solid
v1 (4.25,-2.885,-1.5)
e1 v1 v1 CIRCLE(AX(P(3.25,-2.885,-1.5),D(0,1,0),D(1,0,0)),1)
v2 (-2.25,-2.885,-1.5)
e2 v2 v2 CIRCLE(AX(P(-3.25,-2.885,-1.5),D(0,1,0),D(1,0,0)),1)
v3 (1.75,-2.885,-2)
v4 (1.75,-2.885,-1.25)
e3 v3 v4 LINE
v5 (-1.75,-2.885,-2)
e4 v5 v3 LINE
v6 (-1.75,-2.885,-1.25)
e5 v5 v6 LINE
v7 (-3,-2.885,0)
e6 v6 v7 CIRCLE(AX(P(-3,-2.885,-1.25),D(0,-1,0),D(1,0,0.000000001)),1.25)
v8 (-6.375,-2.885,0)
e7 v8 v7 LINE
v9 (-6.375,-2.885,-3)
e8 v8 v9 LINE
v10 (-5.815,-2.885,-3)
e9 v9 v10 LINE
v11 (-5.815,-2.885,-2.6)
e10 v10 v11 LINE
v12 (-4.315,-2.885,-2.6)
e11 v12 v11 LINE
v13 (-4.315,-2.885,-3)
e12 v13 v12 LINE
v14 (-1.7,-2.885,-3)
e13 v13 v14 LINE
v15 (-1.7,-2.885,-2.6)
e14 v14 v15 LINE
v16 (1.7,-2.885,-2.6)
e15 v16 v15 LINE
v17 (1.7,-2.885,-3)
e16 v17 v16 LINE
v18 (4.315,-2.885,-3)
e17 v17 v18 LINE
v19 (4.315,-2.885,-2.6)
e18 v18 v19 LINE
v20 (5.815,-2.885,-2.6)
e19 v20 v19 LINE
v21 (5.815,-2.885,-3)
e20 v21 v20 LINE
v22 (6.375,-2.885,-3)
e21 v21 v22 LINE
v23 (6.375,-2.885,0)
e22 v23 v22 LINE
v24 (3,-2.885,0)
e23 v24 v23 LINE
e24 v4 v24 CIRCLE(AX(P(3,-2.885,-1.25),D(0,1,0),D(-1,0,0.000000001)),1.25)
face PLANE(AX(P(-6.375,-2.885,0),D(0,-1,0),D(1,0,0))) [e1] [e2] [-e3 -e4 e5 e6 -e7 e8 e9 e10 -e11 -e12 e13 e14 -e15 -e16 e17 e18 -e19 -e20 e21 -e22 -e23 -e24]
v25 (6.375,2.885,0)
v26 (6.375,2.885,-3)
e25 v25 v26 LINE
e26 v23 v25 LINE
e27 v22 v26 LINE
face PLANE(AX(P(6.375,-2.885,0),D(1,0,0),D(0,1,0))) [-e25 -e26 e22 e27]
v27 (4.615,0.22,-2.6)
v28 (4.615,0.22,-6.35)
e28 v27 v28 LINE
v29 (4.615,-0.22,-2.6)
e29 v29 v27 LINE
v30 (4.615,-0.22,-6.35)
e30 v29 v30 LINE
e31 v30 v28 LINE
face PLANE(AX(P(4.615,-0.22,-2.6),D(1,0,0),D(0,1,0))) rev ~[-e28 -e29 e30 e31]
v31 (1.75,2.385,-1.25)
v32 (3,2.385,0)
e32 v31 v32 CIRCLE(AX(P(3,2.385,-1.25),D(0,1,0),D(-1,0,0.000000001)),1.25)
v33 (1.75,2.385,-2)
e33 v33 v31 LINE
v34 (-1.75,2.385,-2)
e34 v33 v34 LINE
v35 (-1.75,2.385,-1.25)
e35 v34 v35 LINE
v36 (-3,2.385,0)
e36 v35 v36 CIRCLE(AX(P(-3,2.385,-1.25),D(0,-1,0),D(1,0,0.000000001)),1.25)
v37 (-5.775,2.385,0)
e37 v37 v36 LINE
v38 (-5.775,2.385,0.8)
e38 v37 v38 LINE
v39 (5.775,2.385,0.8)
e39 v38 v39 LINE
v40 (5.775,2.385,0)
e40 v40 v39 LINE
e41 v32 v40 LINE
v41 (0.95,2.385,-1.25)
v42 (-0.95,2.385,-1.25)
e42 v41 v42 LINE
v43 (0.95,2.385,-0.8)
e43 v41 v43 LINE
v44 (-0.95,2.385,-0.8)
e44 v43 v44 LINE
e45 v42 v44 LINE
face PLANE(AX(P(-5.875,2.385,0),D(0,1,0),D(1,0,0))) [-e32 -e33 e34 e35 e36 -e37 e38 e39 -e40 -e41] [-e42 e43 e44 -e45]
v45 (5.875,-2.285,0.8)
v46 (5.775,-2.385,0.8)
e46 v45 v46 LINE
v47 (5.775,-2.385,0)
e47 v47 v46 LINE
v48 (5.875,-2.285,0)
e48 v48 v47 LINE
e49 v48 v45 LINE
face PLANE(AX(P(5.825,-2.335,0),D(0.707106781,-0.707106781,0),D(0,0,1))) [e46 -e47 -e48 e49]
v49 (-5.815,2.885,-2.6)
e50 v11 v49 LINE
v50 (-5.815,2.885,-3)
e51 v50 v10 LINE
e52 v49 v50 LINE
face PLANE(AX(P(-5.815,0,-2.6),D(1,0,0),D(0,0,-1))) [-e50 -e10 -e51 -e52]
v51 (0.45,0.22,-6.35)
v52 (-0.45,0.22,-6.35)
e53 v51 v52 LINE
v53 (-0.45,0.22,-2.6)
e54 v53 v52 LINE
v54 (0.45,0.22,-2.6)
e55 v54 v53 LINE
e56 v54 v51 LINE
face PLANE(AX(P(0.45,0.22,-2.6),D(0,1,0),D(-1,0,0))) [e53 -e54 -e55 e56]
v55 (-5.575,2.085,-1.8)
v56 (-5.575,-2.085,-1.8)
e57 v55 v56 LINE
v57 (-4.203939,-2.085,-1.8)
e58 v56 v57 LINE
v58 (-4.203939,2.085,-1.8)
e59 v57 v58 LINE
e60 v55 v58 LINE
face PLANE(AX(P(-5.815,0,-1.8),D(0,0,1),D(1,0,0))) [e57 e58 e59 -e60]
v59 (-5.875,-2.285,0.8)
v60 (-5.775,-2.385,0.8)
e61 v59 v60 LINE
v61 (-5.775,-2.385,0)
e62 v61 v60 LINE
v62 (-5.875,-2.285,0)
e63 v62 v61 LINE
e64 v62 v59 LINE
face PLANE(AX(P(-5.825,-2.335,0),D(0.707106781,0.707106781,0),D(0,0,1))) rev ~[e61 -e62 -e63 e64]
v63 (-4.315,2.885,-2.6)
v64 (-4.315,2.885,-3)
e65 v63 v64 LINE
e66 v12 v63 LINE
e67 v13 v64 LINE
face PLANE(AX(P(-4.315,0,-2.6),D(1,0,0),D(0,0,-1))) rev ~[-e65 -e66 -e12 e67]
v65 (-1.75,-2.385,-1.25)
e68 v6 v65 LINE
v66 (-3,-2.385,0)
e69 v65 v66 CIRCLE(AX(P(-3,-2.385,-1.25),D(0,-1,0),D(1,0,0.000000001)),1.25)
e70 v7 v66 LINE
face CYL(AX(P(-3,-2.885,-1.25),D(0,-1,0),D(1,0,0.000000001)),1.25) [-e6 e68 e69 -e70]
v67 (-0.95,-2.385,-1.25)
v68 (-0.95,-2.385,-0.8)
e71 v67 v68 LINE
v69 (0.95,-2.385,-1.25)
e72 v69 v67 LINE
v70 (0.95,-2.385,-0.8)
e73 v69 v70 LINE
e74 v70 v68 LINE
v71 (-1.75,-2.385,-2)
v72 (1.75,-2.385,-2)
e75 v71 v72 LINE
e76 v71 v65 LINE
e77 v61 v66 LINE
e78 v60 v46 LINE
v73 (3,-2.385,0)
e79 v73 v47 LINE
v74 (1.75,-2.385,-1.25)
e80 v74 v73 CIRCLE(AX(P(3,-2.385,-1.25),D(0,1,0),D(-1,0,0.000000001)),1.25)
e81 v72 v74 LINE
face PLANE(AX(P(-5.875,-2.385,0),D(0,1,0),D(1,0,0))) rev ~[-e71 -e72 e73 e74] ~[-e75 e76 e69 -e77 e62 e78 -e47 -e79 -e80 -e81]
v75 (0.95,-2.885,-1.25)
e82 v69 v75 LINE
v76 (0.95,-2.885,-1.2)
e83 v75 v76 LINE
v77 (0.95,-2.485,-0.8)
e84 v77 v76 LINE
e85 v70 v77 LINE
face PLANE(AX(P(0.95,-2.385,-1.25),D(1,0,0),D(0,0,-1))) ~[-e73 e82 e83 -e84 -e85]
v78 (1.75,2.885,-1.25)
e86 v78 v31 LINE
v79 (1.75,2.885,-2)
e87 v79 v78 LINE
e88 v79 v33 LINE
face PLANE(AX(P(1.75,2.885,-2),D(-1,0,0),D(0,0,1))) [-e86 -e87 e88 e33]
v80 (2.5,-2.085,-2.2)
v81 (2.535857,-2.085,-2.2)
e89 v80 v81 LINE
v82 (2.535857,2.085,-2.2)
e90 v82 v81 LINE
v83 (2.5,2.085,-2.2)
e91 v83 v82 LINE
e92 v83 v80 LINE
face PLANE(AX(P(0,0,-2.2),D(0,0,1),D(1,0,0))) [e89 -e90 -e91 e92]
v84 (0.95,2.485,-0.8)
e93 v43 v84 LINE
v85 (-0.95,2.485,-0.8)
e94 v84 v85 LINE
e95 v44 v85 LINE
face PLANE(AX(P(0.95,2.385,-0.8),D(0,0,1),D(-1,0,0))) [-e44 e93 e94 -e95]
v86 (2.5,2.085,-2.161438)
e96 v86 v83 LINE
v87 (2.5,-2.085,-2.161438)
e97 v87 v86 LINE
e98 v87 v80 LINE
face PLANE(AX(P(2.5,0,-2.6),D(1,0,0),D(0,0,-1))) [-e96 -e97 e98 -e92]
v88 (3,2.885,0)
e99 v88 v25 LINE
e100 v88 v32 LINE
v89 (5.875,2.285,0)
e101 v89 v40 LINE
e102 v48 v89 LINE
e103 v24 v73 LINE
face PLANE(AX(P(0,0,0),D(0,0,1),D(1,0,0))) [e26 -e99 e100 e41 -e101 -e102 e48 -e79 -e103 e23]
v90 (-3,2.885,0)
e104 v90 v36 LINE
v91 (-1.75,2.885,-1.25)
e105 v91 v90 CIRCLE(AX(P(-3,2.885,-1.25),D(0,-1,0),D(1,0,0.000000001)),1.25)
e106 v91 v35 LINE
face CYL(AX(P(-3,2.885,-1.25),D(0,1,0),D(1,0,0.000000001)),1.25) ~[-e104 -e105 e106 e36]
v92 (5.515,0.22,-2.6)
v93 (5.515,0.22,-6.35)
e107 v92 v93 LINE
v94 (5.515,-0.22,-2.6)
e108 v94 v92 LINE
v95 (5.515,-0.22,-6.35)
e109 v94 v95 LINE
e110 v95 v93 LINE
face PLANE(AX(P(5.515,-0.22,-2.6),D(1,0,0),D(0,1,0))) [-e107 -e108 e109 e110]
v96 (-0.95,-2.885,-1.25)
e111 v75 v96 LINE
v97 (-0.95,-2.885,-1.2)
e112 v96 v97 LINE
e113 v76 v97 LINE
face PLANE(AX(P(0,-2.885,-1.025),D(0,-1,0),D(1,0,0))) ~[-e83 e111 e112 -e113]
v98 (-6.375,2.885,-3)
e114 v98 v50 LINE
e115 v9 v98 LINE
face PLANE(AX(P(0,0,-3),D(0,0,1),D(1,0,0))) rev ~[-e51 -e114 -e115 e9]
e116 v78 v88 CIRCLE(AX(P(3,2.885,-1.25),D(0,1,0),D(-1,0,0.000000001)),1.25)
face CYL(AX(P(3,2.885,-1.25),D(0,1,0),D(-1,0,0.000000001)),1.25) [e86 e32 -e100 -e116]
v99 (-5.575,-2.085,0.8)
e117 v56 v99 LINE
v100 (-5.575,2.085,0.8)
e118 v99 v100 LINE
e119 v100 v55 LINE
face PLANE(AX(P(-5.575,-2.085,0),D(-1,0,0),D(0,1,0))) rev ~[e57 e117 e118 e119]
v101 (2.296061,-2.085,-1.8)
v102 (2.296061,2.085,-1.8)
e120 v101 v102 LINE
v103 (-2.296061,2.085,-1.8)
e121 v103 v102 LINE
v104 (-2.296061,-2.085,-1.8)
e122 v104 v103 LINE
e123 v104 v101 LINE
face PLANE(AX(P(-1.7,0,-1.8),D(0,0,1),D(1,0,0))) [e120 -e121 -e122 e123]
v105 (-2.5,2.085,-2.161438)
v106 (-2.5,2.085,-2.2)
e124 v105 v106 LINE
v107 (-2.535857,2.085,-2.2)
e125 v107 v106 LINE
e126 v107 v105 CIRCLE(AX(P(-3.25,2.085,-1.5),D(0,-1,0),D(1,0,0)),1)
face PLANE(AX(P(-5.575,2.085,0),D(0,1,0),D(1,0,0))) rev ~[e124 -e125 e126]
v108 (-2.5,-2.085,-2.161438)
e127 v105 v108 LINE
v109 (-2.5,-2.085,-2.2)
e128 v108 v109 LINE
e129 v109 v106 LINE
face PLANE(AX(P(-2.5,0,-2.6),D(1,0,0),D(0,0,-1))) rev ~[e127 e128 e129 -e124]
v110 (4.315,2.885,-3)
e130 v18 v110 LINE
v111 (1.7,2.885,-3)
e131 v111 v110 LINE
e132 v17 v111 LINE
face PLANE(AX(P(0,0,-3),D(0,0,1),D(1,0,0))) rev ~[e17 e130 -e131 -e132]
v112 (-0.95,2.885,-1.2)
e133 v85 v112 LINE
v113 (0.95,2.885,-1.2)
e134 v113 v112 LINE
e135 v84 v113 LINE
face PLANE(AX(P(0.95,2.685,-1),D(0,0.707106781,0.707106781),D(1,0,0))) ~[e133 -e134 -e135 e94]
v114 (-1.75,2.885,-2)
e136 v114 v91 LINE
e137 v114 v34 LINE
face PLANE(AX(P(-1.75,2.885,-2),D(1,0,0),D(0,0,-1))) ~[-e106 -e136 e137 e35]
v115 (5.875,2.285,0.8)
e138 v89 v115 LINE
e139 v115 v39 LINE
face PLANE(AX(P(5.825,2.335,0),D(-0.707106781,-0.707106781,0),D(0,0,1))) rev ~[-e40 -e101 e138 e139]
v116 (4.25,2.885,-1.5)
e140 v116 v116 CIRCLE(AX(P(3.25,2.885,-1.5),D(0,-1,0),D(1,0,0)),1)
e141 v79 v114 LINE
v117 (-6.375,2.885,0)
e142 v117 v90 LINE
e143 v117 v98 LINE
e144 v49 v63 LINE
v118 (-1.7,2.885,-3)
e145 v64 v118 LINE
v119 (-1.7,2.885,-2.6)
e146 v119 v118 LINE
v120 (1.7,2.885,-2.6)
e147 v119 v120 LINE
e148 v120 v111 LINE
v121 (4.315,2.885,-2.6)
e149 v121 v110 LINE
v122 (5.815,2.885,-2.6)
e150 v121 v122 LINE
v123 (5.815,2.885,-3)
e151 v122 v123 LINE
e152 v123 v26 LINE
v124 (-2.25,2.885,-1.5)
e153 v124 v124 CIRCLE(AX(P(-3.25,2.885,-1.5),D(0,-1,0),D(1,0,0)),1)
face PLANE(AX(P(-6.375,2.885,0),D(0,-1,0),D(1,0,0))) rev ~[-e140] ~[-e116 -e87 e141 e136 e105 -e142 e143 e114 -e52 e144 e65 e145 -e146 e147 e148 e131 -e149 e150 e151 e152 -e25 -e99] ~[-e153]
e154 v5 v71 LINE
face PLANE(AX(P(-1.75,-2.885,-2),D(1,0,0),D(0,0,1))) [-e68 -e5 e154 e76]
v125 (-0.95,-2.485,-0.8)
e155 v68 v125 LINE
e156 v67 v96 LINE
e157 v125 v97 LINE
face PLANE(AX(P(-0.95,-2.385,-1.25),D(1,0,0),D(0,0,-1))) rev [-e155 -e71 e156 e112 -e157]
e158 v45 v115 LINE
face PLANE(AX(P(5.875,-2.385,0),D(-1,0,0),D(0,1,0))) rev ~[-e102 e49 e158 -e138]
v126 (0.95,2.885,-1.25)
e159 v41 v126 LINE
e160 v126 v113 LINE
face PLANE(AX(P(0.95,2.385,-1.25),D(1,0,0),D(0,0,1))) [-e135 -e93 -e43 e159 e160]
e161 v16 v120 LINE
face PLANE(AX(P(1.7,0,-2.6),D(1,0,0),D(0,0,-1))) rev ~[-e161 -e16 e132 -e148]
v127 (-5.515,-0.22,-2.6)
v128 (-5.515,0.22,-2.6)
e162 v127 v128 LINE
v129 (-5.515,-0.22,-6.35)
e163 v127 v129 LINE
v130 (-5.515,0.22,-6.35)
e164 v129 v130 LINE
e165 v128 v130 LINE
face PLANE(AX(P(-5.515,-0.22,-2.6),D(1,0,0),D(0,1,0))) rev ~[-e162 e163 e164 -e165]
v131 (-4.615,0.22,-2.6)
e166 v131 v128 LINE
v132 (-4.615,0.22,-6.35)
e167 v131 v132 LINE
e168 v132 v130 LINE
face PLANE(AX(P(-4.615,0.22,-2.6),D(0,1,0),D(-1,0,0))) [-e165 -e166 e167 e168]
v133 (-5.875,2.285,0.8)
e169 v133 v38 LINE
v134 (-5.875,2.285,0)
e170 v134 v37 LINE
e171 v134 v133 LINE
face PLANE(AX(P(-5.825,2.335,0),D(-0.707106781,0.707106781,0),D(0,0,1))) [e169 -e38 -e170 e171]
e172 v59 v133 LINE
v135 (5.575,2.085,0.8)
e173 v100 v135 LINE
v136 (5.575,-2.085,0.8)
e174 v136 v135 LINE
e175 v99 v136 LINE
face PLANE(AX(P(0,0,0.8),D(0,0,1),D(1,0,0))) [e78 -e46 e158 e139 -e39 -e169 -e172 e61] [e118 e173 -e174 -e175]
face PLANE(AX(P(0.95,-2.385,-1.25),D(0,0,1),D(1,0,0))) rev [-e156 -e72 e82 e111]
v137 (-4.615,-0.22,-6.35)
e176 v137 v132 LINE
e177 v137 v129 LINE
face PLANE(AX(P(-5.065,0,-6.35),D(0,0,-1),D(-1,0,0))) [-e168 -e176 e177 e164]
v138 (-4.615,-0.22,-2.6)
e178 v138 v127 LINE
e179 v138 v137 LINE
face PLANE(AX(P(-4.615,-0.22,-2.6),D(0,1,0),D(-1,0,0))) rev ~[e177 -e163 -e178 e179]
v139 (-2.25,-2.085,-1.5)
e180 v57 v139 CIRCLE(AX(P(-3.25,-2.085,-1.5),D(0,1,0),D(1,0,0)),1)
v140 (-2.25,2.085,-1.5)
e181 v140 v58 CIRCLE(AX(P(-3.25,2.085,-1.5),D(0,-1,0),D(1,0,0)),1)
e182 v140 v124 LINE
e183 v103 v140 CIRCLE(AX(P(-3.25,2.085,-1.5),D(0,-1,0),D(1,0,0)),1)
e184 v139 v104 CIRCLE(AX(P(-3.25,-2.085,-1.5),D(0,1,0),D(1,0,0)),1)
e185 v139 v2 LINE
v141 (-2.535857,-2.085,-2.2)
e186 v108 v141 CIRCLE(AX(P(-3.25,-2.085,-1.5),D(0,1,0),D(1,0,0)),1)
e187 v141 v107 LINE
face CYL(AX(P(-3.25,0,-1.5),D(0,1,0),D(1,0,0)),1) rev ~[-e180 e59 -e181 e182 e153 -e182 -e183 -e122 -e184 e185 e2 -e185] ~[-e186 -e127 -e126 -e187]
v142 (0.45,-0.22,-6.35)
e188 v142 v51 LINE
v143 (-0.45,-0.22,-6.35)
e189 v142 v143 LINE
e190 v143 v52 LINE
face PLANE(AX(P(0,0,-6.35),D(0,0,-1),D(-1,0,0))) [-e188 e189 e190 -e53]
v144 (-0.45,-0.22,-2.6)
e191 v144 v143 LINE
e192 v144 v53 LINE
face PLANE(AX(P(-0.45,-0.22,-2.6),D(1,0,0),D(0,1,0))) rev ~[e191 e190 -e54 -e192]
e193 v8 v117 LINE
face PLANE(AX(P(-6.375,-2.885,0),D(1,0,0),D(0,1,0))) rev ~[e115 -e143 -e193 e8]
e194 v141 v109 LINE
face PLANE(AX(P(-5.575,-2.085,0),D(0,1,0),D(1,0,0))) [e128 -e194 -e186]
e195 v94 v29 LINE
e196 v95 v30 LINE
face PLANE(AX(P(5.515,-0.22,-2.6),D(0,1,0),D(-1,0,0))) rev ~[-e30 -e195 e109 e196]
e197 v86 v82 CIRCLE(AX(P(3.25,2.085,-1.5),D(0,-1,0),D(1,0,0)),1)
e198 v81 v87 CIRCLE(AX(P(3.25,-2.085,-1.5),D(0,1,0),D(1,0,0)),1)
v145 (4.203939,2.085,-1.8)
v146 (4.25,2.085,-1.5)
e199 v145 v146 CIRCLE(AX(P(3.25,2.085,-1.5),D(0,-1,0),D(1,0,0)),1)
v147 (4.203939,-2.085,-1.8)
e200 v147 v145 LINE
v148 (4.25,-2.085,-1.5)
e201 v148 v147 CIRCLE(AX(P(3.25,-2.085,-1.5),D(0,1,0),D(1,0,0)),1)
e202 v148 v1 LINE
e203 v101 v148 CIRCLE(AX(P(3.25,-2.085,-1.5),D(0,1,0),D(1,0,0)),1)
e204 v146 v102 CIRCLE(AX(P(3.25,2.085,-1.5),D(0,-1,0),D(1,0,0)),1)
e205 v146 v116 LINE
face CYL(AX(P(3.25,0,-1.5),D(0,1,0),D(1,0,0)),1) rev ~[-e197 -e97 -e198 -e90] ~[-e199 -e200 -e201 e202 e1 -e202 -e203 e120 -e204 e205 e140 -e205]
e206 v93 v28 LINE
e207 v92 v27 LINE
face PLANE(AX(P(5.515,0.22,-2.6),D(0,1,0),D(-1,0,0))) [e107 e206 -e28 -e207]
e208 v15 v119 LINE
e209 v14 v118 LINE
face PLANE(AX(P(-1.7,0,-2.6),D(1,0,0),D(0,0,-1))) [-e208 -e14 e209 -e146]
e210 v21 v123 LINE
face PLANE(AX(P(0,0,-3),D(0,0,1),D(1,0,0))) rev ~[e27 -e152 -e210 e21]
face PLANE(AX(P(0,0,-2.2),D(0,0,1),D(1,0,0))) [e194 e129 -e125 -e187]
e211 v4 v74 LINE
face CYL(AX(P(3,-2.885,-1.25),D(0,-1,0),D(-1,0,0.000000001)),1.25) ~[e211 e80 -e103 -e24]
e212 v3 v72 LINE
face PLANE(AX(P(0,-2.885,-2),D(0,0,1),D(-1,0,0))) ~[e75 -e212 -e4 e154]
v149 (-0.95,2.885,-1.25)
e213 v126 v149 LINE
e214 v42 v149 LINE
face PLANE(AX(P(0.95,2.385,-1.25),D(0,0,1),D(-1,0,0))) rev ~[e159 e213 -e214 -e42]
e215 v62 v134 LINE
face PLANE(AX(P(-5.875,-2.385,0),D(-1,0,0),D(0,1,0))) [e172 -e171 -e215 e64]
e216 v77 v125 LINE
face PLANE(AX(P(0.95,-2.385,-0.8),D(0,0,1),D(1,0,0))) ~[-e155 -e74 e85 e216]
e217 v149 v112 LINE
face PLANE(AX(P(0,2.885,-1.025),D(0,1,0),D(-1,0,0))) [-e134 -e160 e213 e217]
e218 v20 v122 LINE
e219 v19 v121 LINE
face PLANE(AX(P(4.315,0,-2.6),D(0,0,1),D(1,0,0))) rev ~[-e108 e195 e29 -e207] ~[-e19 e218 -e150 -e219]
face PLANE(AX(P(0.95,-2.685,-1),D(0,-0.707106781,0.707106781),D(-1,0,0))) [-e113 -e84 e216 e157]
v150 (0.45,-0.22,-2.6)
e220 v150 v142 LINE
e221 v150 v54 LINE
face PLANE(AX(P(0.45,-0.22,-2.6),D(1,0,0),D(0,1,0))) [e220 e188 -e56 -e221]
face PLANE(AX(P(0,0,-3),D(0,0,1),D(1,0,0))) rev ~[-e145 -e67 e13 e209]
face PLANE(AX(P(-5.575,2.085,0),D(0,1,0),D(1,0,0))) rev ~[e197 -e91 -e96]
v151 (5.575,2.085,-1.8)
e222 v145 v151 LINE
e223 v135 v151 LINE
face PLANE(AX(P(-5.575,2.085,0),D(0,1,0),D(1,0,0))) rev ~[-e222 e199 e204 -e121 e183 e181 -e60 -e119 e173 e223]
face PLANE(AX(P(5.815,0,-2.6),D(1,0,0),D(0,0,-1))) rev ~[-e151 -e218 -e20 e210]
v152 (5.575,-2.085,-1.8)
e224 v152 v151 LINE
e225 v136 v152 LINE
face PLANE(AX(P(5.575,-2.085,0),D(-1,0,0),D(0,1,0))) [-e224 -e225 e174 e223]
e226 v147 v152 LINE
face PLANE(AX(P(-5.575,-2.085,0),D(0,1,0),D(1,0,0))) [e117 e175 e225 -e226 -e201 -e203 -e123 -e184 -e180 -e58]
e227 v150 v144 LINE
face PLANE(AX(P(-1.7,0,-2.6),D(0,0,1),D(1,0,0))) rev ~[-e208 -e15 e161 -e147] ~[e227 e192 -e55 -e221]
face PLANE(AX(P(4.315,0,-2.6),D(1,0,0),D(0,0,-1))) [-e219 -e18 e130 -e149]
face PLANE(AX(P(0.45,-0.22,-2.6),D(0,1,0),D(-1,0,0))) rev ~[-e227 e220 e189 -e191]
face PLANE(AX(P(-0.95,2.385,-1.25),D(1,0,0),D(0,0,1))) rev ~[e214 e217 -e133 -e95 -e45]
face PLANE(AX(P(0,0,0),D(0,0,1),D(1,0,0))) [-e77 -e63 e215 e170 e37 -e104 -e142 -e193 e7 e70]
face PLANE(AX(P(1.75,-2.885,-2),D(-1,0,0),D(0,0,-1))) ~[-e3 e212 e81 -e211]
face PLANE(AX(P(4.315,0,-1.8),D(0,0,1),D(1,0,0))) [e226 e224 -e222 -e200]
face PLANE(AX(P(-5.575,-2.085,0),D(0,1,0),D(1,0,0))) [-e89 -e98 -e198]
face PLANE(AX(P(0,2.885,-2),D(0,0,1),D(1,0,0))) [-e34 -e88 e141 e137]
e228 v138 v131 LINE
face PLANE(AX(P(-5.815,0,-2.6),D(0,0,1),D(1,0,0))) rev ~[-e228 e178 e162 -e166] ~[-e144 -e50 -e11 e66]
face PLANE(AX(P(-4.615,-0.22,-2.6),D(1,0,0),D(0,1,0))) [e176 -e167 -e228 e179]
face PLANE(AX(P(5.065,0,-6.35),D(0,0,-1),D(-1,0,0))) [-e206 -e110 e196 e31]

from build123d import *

# Parameters (mm, degrees)
ESQUISSE1_W                  = 12.75
ESQUISSE1_H                  = 5.77
BASE_EXTRUSION_DEPTH         = 3
ESQUISSE2_W                  = 1.5
ESQUISSE2_H                  = 0.4
ESQUISSE2_W_2                = 3.4
ENL_V_MAT_EXTRU_1_DEPTH      = 3.885
ENL_V_MAT_EXTRU_1_DEPTH_BACK = 3.885
COQUE1_T                     = -0.8
ESQUISSE3_W                  = 0.9
ESQUISSE3_H                  = 0.44
BOSS_EXTRU_1_DEPTH           = 3.75
ESQUISSE4_W                  = 11.75
ESQUISSE4_H                  = 4.77
ESQUISSE4_W_2                = 11.15
ESQUISSE4_H_2                = 4.17
BOSS_EXTRU_2_DEPTH           = 0.8
ENL_V_MAT_EXTRU_2_DEPTH      = 0.5
SYM_TRIE2_COPY_1_DEPTH       = 0.5
CHANFREIN1_SIZE              = 0.1
ESQUISSE6_W                  = 1.9
ESQUISSE6_H                  = 0.45
BOSS_EXTRU_3_DEPTH           = 0.5
CHANFREIN2_SIZE              = 0.4
CHANFREIN2_OF_SYM_TRIE3_SIZE = 0.4
ESQUISSE7_R                  = 1
ENL_V_MAT_EXTRU_3_DEPTH      = 3.885
ENL_V_MAT_EXTRU_3_DEPTH_BACK = 3.885


with BuildPart() as part:
    # Esquisse1 → Base-Extrusion (new body)
    with BuildSketch(Plane.XY):
        Rectangle(ESQUISSE1_W, ESQUISSE1_H)
    extrude(amount=-BASE_EXTRUSION_DEPTH)

    # Esquisse2 → Enlèv. mat.-Extru.1 (cut, two sides)
    with BuildSketch(Plane(origin=(0, 0, 0), x_dir=(1, 0, 0), z_dir=(0, 1, 0))) as enl_v_mat_extru_1_sk:
        with Locations((-5.065, 2.8)):
            Rectangle(ESQUISSE2_W, ESQUISSE2_H)
        with Locations((5.065, 2.8)):
            Rectangle(ESQUISSE2_W, ESQUISSE2_H)
        with Locations((0, 2.8)):
            Rectangle(ESQUISSE2_W_2, ESQUISSE2_H)
    extrude(amount=ENL_V_MAT_EXTRU_1_DEPTH, mode=Mode.SUBTRACT)
    extrude(enl_v_mat_extru_1_sk.sketch, amount=-ENL_V_MAT_EXTRU_1_DEPTH_BACK, mode=Mode.SUBTRACT)

    # Coque1
    coque1_openings = [part.faces().sort_by_distance(p)[0] for p in [
        (0, 0, 0),
    ]]
    offset(amount=COQUE1_T, openings=coque1_openings, kind=Kind.INTERSECTION)

    # Esquisse3 → Boss.-Extru.1 (add)
    with BuildSketch(Plane(origin=(0, 0, -2.6), x_dir=(-1, 0, 0), z_dir=(0, 0, -1))):
        with Locations((-5.065, 0)):
            Rectangle(ESQUISSE3_W, ESQUISSE3_H)
        with Locations((5.065, 0)):
            Rectangle(ESQUISSE3_W, ESQUISSE3_H)
        Rectangle(ESQUISSE3_W, ESQUISSE3_H)
    extrude(amount=BOSS_EXTRU_1_DEPTH)

    # Esquisse4 → Boss.-Extru.2 (add)
    with BuildSketch(Plane.XY):
        Rectangle(ESQUISSE4_W, ESQUISSE4_H)
        Rectangle(ESQUISSE4_W_2, ESQUISSE4_H_2, mode=Mode.SUBTRACT)
    extrude(amount=BOSS_EXTRU_2_DEPTH)

    # Esquisse5 → Enlèv. mat.-Extru.2 (cut)
    with BuildSketch(Plane(origin=(0, 2.885, 0), x_dir=(1, 0, 0), z_dir=(0, 1, 0))):
        with BuildLine():
            Line((3, 0), (0, 0))
            Line((0, 0), (0, 2))
            Line((0, 2), (1.75, 2))
            Line((1.75, 2), (1.75, 1.25))
            ThreePointArc((1.75, 1.25), (2.116116524, 0.366116524), (3, 0))
        make_face()
    enl_v_mat_extru_2 = extrude(amount=-ENL_V_MAT_EXTRU_2_DEPTH, mode=Mode.SUBTRACT)

    # Symétrie1: Enlèv. mat.-Extru.2 across plane
    add(enl_v_mat_extru_2.mirror(Plane(origin=(0, 0, 0), x_dir=(0, 0, 1), z_dir=(1, 0, 0))), mode=Mode.SUBTRACT)

    # Symétrie2: Enlèv. mat.-Extru.2 across plane
    add(enl_v_mat_extru_2.mirror(Plane.ZX), mode=Mode.SUBTRACT)

    # Symétrie2 copy 1 sketch → Symétrie2 copy 1 (cut)
    with BuildSketch(Plane(origin=(0, -2.885, 0), x_dir=(-1, 0, 0), z_dir=(0, -1, 0))):
        with BuildLine():
            Line((3, 0), (0, 0))
            Line((0, 0), (0, 2))
            Line((0, 2), (1.75, 2))
            Line((1.75, 2), (1.75, 1.25))
            ThreePointArc((1.75, 1.25), (2.116116524, 0.366116524), (3, 0))
        make_face()
    extrude(amount=-SYM_TRIE2_COPY_1_DEPTH, mode=Mode.SUBTRACT)

    # Chanfrein1
    chanfrein1_edges = [part.edges().sort_by_distance(p)[0] for p in [
        (5.875, -2.385, 0.4),
        (5.875, 2.385, 0.4),
        (-5.875, 2.385, 0.4),
        (-5.875, -2.385, 0.4),
    ]]
    chamfer(chanfrein1_edges, length=CHANFREIN1_SIZE)

    # Esquisse6 → Boss.-Extru.3 (add)
    with BuildSketch(Plane(origin=(0, 2.385, 0), x_dir=(-1, 0, 0), z_dir=(0, 1, 0))):
        with Locations((0, -1.025)):
            Rectangle(ESQUISSE6_W, ESQUISSE6_H)
    boss_extru_3 = extrude(amount=BOSS_EXTRU_3_DEPTH)

    # Chanfrein2
    chanfrein2_edges = [part.edges().sort_by_distance(p)[0] for p in [
        (0, 2.885, -0.8),
    ]]
    chamfer(chanfrein2_edges, length=CHANFREIN2_SIZE)

    # Symétrie3: Boss.-Extru.3 across plane
    add(boss_extru_3.mirror(Plane.ZX))

    # Chanfrein2 of Symétrie3
    chanfrein2_of_sym_trie3_edges = [part.edges().sort_by_distance(p)[0] for p in [
        (0, -2.885, -0.8),
    ]]
    chamfer(chanfrein2_of_sym_trie3_edges, length=CHANFREIN2_OF_SYM_TRIE3_SIZE)

    # Esquisse7 → Enlèv. mat.-Extru.3 (cut, two sides)
    with BuildSketch(Plane(origin=(0, 0, 0), x_dir=(1, 0, 0), z_dir=(0, 1, 0))) as enl_v_mat_extru_3_sk:
        with Locations((3.25, 1.5)):
            Circle(ESQUISSE7_R)
        with Locations((-3.25, 1.5)):
            Circle(ESQUISSE7_R)
    extrude(amount=ENL_V_MAT_EXTRU_3_DEPTH, mode=Mode.SUBTRACT)
    extrude(enl_v_mat_extru_3_sk.sketch, amount=-ENL_V_MAT_EXTRU_3_DEPTH_BACK, mode=Mode.SUBTRACT)


solid = part.part
